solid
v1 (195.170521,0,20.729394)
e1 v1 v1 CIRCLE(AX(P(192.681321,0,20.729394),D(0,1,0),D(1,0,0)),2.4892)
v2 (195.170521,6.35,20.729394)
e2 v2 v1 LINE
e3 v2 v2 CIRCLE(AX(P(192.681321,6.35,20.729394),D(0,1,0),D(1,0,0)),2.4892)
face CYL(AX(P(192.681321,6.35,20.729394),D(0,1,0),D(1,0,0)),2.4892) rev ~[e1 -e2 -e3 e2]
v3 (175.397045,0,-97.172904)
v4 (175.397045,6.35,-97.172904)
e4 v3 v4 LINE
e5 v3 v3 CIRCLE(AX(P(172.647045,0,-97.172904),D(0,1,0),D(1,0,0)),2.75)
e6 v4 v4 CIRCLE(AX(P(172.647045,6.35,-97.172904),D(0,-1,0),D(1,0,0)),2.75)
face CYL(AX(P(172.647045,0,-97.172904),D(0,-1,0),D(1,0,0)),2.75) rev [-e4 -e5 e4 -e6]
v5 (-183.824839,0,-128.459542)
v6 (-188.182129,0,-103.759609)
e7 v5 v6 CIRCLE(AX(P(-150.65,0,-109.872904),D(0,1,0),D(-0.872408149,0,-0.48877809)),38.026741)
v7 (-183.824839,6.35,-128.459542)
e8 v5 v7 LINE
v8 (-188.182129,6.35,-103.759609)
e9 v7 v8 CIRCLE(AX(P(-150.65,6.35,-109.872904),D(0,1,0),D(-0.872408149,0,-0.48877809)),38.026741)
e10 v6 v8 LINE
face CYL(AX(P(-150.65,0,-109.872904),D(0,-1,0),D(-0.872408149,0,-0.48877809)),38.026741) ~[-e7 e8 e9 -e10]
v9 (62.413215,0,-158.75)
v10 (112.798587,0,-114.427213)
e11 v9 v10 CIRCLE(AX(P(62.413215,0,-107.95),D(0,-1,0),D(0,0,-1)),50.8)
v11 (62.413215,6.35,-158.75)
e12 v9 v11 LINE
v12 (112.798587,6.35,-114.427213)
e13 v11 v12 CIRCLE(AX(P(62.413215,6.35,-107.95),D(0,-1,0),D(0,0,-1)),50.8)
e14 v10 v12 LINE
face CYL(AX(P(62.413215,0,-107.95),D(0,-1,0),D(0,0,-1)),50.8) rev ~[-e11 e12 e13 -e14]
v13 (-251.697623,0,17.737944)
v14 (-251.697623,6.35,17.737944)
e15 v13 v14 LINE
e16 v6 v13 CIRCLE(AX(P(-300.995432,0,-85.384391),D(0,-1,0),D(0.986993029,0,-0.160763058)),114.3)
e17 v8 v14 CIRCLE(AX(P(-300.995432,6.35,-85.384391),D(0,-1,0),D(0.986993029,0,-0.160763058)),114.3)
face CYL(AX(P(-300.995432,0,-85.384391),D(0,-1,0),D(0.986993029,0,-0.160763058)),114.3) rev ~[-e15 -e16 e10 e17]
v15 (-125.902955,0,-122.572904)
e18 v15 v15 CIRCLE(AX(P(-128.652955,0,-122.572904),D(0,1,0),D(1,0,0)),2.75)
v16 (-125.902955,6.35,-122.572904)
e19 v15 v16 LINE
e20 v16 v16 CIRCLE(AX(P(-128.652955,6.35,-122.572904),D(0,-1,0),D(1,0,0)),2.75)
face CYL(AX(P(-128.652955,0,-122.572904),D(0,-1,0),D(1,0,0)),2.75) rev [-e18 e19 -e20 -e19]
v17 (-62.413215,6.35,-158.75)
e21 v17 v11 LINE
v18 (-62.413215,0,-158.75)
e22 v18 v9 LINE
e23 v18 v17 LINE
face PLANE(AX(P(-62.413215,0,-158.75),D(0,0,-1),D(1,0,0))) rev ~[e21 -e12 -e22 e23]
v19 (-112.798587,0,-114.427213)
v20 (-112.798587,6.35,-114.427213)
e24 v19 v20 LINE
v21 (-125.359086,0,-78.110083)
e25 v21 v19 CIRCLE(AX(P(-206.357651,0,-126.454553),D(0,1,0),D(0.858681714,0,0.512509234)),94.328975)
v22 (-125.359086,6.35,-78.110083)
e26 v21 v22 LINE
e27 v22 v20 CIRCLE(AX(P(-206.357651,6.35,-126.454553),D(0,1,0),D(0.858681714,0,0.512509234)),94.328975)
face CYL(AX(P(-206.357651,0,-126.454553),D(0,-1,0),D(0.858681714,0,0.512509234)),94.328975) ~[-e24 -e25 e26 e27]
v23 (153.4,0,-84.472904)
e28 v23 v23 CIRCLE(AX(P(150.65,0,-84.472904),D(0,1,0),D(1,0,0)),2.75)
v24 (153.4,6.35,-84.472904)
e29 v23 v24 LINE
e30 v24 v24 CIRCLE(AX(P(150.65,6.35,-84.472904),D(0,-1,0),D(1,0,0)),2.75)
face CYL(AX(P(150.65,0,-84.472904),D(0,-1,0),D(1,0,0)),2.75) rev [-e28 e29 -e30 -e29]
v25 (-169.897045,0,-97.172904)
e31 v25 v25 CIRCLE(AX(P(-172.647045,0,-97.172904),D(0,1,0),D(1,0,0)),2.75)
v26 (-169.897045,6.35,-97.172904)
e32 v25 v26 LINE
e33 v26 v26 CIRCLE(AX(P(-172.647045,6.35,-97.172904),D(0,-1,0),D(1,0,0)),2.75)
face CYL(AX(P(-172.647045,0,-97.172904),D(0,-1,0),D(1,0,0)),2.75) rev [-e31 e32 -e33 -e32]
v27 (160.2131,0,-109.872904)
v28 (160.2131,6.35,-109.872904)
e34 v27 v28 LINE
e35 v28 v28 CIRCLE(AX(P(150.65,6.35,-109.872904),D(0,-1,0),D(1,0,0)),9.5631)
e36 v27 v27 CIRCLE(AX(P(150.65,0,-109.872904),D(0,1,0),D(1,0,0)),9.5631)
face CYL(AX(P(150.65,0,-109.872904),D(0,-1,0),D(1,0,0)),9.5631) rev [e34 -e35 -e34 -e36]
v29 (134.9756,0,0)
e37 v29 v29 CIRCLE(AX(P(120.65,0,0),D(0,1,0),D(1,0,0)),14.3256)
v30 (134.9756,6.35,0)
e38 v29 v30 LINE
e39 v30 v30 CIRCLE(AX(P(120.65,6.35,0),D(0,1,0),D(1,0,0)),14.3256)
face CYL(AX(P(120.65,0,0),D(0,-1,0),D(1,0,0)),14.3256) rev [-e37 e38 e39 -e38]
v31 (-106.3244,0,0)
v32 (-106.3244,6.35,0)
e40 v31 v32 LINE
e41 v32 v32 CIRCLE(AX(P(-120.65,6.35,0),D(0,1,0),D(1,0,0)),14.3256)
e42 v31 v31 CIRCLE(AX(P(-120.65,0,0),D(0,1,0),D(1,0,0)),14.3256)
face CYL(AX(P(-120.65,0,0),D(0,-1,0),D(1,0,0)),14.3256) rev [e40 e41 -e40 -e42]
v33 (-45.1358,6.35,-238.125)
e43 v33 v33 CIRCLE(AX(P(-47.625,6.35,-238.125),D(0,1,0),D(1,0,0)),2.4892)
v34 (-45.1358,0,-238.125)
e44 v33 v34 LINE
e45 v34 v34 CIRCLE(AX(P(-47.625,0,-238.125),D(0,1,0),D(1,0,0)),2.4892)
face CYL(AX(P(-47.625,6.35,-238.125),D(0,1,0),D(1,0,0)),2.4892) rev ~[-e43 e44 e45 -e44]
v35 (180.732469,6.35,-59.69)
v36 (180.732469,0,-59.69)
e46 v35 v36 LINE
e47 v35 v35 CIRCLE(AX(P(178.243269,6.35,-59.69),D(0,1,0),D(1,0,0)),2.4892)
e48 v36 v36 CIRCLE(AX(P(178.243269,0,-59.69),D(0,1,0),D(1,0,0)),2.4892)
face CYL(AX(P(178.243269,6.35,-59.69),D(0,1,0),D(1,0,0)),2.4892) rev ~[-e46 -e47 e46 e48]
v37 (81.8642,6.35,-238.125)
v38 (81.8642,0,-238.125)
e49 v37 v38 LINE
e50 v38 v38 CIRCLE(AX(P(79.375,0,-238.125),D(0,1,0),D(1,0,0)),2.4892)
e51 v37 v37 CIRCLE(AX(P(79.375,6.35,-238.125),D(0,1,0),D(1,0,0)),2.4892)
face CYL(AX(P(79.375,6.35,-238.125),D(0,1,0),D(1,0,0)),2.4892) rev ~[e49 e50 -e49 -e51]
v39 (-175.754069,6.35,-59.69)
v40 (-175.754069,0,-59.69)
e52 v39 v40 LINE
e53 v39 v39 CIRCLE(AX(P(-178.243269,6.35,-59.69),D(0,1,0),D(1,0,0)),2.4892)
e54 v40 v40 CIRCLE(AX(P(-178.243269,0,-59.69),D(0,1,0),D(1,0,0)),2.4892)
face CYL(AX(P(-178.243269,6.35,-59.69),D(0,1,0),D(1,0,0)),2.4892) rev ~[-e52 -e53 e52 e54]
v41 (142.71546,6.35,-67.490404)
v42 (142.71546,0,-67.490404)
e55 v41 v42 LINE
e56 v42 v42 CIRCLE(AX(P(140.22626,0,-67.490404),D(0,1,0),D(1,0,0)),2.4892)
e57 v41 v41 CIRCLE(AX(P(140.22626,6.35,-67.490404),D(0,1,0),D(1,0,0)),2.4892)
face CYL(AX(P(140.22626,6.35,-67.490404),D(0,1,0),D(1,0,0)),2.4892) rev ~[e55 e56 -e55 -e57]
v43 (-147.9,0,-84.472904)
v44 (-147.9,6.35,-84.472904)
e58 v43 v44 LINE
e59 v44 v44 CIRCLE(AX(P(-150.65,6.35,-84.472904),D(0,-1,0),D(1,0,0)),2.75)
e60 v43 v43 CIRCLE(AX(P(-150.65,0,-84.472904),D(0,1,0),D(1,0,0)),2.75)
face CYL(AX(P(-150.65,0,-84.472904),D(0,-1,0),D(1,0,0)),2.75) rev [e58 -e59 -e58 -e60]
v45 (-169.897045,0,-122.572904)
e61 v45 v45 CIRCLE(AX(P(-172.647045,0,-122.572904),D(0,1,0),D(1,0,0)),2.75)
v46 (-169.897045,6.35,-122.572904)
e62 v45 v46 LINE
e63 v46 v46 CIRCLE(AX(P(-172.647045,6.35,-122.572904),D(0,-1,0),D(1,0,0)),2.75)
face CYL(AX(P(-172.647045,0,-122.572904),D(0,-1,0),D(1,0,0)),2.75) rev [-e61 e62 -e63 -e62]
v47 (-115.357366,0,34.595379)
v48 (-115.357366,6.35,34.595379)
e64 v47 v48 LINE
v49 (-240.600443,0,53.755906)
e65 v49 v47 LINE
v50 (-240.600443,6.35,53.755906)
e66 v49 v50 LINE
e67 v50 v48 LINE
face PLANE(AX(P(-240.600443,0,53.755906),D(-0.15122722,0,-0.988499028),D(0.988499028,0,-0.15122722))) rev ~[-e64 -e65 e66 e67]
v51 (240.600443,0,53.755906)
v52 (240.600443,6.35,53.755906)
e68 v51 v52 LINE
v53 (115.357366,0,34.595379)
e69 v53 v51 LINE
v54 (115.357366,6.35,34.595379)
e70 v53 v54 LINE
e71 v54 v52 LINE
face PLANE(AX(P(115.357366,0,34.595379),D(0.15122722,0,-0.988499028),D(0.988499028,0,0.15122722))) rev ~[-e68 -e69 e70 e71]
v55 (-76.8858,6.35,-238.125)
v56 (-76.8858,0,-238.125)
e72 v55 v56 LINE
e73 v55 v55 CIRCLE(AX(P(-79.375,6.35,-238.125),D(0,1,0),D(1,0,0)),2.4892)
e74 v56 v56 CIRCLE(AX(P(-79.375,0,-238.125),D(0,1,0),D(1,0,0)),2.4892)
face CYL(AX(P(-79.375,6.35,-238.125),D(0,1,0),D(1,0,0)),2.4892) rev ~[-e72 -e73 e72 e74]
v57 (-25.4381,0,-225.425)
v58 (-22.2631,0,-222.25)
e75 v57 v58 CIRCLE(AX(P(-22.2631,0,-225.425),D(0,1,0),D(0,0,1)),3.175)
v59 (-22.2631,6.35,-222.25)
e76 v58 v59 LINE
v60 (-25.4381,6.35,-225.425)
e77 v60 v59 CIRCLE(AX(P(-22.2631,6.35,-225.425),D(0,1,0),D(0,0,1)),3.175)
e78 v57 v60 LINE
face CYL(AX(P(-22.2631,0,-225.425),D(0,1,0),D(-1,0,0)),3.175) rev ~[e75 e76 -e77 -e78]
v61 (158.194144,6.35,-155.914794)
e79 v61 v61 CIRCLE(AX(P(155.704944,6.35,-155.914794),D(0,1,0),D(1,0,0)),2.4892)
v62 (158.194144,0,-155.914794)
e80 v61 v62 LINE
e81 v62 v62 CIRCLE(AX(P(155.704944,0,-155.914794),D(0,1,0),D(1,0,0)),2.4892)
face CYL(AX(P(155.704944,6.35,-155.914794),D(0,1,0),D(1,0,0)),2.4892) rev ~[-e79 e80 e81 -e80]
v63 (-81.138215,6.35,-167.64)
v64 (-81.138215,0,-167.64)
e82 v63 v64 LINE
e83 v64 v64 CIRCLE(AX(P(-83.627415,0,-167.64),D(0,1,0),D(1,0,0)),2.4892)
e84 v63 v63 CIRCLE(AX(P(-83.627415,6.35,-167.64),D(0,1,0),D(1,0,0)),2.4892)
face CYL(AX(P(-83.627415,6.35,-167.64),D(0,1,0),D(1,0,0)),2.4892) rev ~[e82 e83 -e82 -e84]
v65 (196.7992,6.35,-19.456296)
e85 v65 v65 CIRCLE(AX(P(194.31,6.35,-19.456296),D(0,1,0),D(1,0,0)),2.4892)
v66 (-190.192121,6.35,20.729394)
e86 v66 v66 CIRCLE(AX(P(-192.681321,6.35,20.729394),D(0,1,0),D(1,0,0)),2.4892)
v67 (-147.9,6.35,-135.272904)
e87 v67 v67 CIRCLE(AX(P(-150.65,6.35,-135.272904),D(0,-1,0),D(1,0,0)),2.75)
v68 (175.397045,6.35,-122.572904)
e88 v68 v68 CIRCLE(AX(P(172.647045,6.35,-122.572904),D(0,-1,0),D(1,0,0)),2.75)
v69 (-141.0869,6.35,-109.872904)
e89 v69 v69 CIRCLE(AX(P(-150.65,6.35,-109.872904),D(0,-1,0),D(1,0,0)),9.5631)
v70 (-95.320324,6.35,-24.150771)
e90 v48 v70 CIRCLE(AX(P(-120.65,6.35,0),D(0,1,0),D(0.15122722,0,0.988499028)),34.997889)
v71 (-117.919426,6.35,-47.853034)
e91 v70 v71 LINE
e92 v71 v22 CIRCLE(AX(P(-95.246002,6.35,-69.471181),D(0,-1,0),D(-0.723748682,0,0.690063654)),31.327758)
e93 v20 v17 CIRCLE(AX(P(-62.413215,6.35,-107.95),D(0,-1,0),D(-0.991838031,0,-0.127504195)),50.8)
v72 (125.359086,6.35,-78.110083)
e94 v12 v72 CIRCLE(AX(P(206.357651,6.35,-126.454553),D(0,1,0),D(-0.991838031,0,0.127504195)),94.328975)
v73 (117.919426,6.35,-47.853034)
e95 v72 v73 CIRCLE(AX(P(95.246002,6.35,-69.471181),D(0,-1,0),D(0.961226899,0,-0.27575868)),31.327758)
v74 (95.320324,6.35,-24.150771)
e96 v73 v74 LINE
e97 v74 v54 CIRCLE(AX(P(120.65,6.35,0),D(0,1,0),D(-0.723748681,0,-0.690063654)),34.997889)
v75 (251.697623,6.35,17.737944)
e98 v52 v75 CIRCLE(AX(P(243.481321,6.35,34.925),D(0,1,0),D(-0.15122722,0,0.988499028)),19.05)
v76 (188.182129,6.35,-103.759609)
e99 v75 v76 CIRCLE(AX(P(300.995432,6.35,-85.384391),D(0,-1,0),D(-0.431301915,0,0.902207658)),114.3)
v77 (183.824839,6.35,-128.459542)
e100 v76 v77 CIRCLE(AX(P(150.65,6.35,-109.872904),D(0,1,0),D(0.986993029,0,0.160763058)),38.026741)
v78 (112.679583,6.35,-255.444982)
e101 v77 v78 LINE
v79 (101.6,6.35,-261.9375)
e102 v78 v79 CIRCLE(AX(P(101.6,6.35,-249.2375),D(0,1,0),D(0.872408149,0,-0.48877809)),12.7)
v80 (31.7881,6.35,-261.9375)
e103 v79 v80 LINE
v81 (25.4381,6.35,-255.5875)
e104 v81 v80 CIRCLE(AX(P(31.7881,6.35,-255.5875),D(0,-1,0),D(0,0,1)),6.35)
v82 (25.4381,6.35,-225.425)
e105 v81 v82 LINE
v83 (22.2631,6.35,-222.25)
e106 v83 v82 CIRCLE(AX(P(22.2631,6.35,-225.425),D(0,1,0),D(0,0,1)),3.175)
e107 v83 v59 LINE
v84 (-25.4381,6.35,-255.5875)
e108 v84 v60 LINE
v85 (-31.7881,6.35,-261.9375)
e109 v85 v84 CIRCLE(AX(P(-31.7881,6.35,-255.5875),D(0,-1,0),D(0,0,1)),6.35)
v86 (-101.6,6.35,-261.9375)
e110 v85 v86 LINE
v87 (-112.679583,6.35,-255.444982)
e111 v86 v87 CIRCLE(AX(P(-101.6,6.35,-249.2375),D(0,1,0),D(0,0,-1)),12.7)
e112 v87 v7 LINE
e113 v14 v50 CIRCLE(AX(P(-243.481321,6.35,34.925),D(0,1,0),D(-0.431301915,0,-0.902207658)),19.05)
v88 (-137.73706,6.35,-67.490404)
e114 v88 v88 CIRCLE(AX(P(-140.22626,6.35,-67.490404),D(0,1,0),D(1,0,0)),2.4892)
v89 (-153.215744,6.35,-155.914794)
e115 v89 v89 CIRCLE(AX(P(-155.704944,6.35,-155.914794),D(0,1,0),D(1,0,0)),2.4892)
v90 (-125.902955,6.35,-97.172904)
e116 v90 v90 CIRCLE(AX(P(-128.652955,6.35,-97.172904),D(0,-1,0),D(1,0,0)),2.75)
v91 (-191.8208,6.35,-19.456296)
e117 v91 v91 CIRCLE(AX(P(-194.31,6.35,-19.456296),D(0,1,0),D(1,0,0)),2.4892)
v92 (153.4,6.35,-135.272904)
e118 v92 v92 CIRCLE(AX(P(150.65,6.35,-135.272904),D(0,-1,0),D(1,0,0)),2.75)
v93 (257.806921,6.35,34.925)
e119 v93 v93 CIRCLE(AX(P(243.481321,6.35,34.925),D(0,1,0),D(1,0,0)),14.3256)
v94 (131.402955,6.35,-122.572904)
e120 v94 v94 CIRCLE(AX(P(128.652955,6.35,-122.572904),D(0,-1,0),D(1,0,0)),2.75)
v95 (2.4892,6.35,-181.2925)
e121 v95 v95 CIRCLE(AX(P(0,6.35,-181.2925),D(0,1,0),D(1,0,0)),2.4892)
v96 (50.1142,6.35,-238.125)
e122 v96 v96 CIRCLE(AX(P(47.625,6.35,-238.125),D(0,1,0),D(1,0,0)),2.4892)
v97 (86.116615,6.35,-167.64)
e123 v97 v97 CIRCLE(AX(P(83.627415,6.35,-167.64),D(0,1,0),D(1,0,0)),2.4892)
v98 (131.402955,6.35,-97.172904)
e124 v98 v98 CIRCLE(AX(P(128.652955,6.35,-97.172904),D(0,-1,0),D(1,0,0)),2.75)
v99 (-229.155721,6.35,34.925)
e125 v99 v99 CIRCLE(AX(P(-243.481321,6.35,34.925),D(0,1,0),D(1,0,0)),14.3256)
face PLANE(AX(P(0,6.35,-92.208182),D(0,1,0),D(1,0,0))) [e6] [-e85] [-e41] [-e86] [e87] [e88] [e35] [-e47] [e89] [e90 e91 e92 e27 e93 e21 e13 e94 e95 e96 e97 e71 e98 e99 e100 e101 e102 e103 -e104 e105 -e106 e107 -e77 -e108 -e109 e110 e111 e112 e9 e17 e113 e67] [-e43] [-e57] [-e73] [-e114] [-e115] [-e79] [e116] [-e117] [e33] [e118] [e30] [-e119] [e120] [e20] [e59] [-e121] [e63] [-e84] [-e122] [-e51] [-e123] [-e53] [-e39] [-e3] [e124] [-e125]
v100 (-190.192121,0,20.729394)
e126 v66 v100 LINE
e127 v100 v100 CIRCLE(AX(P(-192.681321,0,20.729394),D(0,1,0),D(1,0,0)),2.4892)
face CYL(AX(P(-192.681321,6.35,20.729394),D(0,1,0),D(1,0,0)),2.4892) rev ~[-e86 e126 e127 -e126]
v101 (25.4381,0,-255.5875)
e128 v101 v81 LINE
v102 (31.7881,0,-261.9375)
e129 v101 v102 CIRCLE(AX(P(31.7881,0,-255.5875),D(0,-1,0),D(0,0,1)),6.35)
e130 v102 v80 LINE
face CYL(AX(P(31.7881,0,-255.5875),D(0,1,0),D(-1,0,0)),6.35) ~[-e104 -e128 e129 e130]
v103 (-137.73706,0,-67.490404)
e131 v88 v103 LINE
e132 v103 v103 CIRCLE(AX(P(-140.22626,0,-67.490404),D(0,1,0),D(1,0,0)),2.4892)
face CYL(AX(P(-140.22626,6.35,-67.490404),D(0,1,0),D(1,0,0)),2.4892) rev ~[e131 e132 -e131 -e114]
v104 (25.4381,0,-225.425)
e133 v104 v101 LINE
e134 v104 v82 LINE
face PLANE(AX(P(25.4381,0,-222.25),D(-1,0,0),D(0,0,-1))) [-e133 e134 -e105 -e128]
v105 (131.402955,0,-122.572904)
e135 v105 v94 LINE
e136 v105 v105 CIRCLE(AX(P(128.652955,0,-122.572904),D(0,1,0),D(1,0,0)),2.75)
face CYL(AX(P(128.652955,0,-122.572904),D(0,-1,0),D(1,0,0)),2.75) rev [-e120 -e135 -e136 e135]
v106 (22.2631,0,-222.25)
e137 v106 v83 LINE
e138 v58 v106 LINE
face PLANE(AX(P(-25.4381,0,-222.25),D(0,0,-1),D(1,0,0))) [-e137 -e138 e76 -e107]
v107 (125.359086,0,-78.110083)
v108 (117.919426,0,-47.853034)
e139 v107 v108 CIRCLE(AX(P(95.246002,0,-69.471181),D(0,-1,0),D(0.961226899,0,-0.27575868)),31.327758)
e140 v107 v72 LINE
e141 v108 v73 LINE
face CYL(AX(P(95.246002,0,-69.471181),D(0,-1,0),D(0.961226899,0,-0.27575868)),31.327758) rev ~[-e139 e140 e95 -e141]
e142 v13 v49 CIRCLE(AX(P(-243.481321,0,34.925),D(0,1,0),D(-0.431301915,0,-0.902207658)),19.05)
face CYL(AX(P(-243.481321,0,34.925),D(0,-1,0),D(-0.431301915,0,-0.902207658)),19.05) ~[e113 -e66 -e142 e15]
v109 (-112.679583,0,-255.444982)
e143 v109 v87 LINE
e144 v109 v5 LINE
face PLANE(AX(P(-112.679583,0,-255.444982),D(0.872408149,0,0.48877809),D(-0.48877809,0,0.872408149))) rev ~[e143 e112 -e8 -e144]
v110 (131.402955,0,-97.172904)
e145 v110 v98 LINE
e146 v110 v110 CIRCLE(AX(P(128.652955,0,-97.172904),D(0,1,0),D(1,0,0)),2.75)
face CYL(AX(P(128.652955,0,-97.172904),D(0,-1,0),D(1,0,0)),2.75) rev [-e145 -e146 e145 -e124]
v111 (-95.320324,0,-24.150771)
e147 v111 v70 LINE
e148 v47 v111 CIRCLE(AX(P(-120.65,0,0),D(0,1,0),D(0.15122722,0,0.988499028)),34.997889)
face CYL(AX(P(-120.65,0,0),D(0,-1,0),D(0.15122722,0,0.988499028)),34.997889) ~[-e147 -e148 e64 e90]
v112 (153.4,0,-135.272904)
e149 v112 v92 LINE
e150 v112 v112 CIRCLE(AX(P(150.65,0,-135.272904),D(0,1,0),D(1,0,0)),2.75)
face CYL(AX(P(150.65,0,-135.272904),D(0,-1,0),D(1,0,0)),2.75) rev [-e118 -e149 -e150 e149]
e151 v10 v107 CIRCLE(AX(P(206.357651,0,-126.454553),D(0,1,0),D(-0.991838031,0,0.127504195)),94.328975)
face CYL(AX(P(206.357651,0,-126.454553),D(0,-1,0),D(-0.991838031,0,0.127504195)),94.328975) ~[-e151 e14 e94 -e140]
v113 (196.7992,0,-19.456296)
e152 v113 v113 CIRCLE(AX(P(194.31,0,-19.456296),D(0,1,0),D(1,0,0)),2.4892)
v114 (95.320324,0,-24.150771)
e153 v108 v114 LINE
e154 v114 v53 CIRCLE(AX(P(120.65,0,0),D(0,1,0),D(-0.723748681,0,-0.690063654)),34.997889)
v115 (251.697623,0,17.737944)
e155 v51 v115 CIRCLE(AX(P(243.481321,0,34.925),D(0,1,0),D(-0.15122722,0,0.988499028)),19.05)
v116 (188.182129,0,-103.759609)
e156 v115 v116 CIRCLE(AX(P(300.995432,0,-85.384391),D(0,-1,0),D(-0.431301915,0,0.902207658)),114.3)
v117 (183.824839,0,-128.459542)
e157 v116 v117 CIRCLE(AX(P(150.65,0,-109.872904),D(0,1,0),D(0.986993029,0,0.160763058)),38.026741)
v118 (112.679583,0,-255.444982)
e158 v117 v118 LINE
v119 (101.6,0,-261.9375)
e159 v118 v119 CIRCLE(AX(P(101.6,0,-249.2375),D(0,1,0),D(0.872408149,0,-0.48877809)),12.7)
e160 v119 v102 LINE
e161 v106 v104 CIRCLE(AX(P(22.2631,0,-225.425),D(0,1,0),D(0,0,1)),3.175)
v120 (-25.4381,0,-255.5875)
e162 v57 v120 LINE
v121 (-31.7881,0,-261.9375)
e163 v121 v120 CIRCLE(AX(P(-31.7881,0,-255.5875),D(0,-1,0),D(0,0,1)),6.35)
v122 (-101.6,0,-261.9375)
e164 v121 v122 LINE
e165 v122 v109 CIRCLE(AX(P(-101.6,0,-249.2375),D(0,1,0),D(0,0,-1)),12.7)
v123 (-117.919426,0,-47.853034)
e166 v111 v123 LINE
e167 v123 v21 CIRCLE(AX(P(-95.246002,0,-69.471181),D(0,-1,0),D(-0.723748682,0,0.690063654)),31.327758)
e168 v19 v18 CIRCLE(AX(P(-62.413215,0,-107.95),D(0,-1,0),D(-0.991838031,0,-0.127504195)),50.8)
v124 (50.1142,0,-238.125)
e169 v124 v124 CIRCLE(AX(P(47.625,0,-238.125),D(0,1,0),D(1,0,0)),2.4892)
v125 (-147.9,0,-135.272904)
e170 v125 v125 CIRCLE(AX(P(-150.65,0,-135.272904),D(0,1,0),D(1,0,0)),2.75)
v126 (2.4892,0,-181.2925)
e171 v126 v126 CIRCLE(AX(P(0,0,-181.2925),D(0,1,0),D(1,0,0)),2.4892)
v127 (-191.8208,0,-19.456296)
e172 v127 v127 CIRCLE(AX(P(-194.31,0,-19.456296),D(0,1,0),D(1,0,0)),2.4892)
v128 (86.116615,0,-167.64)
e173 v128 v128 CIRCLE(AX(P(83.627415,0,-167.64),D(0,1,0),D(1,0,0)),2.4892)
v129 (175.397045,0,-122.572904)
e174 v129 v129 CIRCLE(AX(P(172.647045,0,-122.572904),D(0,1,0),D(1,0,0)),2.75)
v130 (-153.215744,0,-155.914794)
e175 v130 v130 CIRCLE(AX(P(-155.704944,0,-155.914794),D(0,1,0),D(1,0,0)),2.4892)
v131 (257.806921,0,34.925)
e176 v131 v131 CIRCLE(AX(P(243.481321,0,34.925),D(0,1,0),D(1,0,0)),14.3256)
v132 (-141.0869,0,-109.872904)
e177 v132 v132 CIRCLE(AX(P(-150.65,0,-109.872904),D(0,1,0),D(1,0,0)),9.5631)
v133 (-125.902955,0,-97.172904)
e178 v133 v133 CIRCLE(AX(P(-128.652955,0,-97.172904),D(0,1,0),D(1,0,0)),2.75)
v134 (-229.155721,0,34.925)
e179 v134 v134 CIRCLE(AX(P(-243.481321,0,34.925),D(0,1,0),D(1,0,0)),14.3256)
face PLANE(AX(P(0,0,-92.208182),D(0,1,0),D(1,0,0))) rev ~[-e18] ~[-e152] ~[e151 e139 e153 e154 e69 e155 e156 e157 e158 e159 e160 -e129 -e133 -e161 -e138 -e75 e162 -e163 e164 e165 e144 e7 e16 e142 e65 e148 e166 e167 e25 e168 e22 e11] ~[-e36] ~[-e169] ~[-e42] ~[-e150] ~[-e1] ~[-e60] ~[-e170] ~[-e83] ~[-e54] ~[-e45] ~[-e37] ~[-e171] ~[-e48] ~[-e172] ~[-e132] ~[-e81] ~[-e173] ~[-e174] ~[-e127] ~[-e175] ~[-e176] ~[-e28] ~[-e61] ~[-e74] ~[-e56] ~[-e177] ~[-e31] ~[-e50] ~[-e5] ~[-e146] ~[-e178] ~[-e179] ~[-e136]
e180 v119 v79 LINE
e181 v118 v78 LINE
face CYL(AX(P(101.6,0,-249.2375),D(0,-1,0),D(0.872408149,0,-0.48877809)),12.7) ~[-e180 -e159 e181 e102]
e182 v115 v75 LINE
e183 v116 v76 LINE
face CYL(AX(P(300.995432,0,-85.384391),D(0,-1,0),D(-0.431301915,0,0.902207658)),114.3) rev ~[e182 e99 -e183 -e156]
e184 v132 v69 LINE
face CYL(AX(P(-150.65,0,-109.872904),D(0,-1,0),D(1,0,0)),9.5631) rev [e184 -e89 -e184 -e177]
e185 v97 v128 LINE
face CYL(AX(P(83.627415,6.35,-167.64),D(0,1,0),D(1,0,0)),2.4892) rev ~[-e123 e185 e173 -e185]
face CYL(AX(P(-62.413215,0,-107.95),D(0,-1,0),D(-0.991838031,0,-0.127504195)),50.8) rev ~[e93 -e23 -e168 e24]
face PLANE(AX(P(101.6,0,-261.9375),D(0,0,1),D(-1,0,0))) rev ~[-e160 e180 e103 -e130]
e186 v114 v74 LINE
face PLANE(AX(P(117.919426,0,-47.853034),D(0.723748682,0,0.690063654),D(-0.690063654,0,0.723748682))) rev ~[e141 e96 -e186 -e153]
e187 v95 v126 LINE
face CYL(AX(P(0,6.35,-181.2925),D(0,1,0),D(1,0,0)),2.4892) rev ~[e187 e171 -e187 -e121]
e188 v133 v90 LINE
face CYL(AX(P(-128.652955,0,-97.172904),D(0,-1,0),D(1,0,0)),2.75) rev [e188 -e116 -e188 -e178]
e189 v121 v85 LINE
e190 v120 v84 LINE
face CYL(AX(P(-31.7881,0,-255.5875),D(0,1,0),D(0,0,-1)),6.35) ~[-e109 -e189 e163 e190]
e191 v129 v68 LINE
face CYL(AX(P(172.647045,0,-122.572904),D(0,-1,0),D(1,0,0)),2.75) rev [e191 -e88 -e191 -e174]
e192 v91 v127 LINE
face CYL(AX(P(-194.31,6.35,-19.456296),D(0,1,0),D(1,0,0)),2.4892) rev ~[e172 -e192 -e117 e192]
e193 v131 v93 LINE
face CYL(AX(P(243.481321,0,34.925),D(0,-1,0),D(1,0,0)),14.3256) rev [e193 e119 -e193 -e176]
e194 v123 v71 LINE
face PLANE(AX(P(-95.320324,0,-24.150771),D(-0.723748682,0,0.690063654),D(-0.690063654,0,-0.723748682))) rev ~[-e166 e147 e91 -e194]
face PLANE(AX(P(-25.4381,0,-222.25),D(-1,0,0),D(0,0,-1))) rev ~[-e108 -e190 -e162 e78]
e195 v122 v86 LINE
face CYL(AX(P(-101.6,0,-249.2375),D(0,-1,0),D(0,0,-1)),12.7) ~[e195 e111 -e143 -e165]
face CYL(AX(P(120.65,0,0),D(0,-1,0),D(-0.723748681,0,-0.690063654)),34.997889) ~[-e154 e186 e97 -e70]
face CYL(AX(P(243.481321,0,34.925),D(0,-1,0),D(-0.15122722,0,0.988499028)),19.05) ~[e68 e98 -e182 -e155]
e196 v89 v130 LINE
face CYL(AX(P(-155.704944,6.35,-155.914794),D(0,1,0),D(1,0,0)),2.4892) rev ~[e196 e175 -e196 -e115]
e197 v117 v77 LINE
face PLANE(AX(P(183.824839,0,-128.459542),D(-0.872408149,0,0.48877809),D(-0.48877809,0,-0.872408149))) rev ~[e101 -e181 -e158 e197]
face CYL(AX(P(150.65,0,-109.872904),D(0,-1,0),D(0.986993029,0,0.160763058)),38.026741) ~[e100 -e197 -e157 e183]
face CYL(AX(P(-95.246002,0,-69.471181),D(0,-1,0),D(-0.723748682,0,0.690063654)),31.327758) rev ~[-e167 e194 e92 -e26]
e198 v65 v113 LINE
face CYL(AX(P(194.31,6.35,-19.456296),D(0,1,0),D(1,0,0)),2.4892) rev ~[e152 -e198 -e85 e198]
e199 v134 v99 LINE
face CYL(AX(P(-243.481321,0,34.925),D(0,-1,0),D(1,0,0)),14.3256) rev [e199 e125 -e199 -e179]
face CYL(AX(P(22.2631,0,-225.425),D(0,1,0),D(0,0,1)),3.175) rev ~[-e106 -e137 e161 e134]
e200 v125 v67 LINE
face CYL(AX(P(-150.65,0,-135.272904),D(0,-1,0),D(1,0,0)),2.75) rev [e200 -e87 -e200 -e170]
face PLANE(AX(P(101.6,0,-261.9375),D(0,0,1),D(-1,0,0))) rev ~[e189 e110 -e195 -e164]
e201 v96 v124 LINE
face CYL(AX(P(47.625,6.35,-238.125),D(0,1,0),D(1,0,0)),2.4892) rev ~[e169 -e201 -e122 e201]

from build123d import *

# Parameters (mm, degrees)
CROQUIS2_R              = 14.3256
SALIENTE_EXTRUIR1_DEPTH = 6.35
CROQUIS2_4_W            = 50.8762
CROQUIS2_4_H            = 39.6875
CROQUIS2_4_R            = 9.5631
CROQUIS2_4_R_2          = 2.75
CORTAR_EXTRUIR1_DEPTH   = 371.910058047
CROQUIS14_R             = 2.4892
CORTAR_EXTRUIR2_DEPTH   = 371.910058047
REDONDEO1_R             = 6.35
REDONDEO2_R             = 3.175


with BuildPart() as part:
    # Croquis2 → Saliente-Extruir1 (new body)
    with BuildSketch(Plane(origin=(0, 0, 0), x_dir=(1, 0, 0), z_dir=(0, 1, 0))):
        with BuildLine():
            ThreePointArc((-188.182128671, 103.759608663), (-199.701715383, 32.430892727), (-251.69762296, -17.737944119))
            ThreePointArc((-251.69762296, -17.737944119), (-261.686817555, -40.53413651), (-240.600442924, -53.755906478))
            Line((-240.600442924, -53.755906478), (-115.357366493, -34.595379464))
            ThreePointArc((-115.357366493, -34.595379464), (-87.525854425, -11.297930327), (-95.320323823, 24.150771302))
            Line((-95.320323823, 24.150771302), (-117.919425507, 47.853034074))
            ThreePointArc((-117.919425507, 47.853034074), (-125.667640352, 61.991051501), (-125.359085671, 78.110082616))
            ThreePointArc((-125.359085671, 78.110082616), (-117.209880411, 95.622258218), (-112.798586764, 114.427213125))
            ThreePointArc((-112.798586764, 114.427213125), (-95.966139935, 146.092380804), (-62.413214778, 158.75))
            Line((-62.413214778, 158.75), (62.413214778, 158.75))
            ThreePointArc((62.413214778, 158.75), (95.966139935, 146.092380804), (112.798586764, 114.427213125))
            ThreePointArc((112.798586764, 114.427213125), (117.209880411, 95.622258218), (125.359085671, 78.110082616))
            ThreePointArc((125.359085671, 78.110082616), (125.667640352, 61.991051501), (117.919425507, 47.853034074))
            Line((117.919425507, 47.853034074), (95.320323823, 24.150771302))
            ThreePointArc((95.320323823, 24.150771302), (87.525854425, -11.297930327), (115.357366493, -34.595379464))
            Line((115.357366493, -34.595379464), (240.600442924, -53.755906478))
            ThreePointArc((240.600442924, -53.755906478), (261.686817555, -40.53413651), (251.69762296, -17.737944119))
            ThreePointArc((251.69762296, -17.737944119), (199.701715383, 32.430892727), (188.182128671, 103.759608663))
            ThreePointArc((188.182128671, 103.759608663), (188.098504611, 116.479155722), (183.824839077, 128.459541912))
            Line((183.824839077, 128.459541912), (112.679583494, 255.444981743))
            ThreePointArc((112.679583494, 255.444981743), (108.020863721, 260.194803914), (101.6, 261.9375))
            Line((101.6, 261.9375), (-101.6, 261.9375))
            ThreePointArc((-101.6, 261.9375), (-108.020863721, 260.194803914), (-112.679583494, 255.444981743))
            Line((-112.679583494, 255.444981743), (-183.824839077, 128.459541912))
            ThreePointArc((-183.824839077, 128.459541912), (-188.098504611, 116.479155722), (-188.182128671, 103.759608663))
        make_face()
        with Locations((-243.481321473, -34.925)):
            Circle(CROQUIS2_R, mode=Mode.SUBTRACT)
        with Locations((243.481321473, -34.925)):
            Circle(CROQUIS2_R, mode=Mode.SUBTRACT)
        with Locations((120.65, 0)):
            Circle(CROQUIS2_R, mode=Mode.SUBTRACT)
        with Locations((-120.65, 0)):
            Circle(CROQUIS2_R, mode=Mode.SUBTRACT)
    extrude(amount=SALIENTE_EXTRUIR1_DEPTH)

    # Croquis2<4> → Cortar-Extruir1 (cut, through all)
    with BuildSketch(Plane(origin=(0, 0, 0), x_dir=(1, 0, 0), z_dir=(0, 1, 0))):
        with Locations((0, 242.09375)):
            Rectangle(CROQUIS2_4_W, CROQUIS2_4_H)
        with Locations((150.65, 109.872903883)):
            Circle(CROQUIS2_4_R)
        with Locations((-150.65, 135.272903883)):
            Circle(CROQUIS2_4_R_2)
        with Locations((-128.652954744, 122.572903883)):
            Circle(CROQUIS2_4_R_2)
        with Locations((-128.652954744, 97.172903883)):
            Circle(CROQUIS2_4_R_2)
        with Locations((-150.65, 84.472903883)):
            Circle(CROQUIS2_4_R_2)
        with Locations((-172.647045256, 97.172903883)):
            Circle(CROQUIS2_4_R_2)
        with Locations((-172.647045256, 122.572903883)):
            Circle(CROQUIS2_4_R_2)
        with Locations((172.647045256, 122.572903883)):
            Circle(CROQUIS2_4_R_2)
        with Locations((172.647045256, 97.172903883)):
            Circle(CROQUIS2_4_R_2)
        with Locations((150.65, 84.472903883)):
            Circle(CROQUIS2_4_R_2)
        with Locations((128.652954744, 97.172903883)):
            Circle(CROQUIS2_4_R_2)
        with Locations((128.652954744, 122.572903883)):
            Circle(CROQUIS2_4_R_2)
        with Locations((150.65, 135.272903883)):
            Circle(CROQUIS2_4_R_2)
        with Locations((-150.65, 109.872903883)):
            Circle(CROQUIS2_4_R)
    extrude(amount=CORTAR_EXTRUIR1_DEPTH, mode=Mode.SUBTRACT)

    # Croquis14 → Cortar-Extruir2 (cut, through all)
    with BuildSketch(Plane(origin=(0, 6.35, 0), x_dir=(1, 0, 0), z_dir=(0, 1, 0))):
        with Locations((0, 181.2925)):
            Circle(CROQUIS14_R)
        with Locations((-192.681321473, -20.729393931)):
            Circle(CROQUIS14_R)
        with Locations((-194.31, 19.456295642)):
            Circle(CROQUIS14_R)
        with Locations((-178.243269302, 59.69)):
            Circle(CROQUIS14_R)
        with Locations((-47.625, 238.125)):
            Circle(CROQUIS14_R)
        with Locations((-79.375, 238.125)):
            Circle(CROQUIS14_R)
        with Locations((-140.226260019, 67.490403883)):
            Circle(CROQUIS14_R)
        with Locations((47.625, 238.125)):
            Circle(CROQUIS14_R)
        with Locations((79.375, 238.125)):
            Circle(CROQUIS14_R)
        with Locations((-83.62741479, 167.64)):
            Circle(CROQUIS14_R)
        with Locations((-155.704943728, 155.914794364)):
            Circle(CROQUIS14_R)
        with Locations((192.681321473, -20.729393931)):
            Circle(CROQUIS14_R)
        with Locations((194.31, 19.456295642)):
            Circle(CROQUIS14_R)
        with Locations((178.243269302, 59.69)):
            Circle(CROQUIS14_R)
        with Locations((140.226260019, 67.490403883)):
            Circle(CROQUIS14_R)
        with Locations((83.62741479, 167.64)):
            Circle(CROQUIS14_R)
        with Locations((155.704943728, 155.914794364)):
            Circle(CROQUIS14_R)
    extrude(amount=-CORTAR_EXTRUIR2_DEPTH, mode=Mode.SUBTRACT)

    # Redondeo1
    redondeo1_edges = [part.edges().sort_by_distance(p)[0] for p in [
        (25.4381, 3.175, -261.9375),
        (-25.4381, 3.175, -261.9375),
    ]]
    fillet(redondeo1_edges, radius=REDONDEO1_R)

    # Redondeo2
    redondeo2_edges = [part.edges().sort_by_distance(p)[0] for p in [
        (-25.4381, 3.175, -222.25),
        (25.4381, 3.175, -222.25),
    ]]
    fillet(redondeo2_edges, radius=REDONDEO2_R)


solid = part.part
